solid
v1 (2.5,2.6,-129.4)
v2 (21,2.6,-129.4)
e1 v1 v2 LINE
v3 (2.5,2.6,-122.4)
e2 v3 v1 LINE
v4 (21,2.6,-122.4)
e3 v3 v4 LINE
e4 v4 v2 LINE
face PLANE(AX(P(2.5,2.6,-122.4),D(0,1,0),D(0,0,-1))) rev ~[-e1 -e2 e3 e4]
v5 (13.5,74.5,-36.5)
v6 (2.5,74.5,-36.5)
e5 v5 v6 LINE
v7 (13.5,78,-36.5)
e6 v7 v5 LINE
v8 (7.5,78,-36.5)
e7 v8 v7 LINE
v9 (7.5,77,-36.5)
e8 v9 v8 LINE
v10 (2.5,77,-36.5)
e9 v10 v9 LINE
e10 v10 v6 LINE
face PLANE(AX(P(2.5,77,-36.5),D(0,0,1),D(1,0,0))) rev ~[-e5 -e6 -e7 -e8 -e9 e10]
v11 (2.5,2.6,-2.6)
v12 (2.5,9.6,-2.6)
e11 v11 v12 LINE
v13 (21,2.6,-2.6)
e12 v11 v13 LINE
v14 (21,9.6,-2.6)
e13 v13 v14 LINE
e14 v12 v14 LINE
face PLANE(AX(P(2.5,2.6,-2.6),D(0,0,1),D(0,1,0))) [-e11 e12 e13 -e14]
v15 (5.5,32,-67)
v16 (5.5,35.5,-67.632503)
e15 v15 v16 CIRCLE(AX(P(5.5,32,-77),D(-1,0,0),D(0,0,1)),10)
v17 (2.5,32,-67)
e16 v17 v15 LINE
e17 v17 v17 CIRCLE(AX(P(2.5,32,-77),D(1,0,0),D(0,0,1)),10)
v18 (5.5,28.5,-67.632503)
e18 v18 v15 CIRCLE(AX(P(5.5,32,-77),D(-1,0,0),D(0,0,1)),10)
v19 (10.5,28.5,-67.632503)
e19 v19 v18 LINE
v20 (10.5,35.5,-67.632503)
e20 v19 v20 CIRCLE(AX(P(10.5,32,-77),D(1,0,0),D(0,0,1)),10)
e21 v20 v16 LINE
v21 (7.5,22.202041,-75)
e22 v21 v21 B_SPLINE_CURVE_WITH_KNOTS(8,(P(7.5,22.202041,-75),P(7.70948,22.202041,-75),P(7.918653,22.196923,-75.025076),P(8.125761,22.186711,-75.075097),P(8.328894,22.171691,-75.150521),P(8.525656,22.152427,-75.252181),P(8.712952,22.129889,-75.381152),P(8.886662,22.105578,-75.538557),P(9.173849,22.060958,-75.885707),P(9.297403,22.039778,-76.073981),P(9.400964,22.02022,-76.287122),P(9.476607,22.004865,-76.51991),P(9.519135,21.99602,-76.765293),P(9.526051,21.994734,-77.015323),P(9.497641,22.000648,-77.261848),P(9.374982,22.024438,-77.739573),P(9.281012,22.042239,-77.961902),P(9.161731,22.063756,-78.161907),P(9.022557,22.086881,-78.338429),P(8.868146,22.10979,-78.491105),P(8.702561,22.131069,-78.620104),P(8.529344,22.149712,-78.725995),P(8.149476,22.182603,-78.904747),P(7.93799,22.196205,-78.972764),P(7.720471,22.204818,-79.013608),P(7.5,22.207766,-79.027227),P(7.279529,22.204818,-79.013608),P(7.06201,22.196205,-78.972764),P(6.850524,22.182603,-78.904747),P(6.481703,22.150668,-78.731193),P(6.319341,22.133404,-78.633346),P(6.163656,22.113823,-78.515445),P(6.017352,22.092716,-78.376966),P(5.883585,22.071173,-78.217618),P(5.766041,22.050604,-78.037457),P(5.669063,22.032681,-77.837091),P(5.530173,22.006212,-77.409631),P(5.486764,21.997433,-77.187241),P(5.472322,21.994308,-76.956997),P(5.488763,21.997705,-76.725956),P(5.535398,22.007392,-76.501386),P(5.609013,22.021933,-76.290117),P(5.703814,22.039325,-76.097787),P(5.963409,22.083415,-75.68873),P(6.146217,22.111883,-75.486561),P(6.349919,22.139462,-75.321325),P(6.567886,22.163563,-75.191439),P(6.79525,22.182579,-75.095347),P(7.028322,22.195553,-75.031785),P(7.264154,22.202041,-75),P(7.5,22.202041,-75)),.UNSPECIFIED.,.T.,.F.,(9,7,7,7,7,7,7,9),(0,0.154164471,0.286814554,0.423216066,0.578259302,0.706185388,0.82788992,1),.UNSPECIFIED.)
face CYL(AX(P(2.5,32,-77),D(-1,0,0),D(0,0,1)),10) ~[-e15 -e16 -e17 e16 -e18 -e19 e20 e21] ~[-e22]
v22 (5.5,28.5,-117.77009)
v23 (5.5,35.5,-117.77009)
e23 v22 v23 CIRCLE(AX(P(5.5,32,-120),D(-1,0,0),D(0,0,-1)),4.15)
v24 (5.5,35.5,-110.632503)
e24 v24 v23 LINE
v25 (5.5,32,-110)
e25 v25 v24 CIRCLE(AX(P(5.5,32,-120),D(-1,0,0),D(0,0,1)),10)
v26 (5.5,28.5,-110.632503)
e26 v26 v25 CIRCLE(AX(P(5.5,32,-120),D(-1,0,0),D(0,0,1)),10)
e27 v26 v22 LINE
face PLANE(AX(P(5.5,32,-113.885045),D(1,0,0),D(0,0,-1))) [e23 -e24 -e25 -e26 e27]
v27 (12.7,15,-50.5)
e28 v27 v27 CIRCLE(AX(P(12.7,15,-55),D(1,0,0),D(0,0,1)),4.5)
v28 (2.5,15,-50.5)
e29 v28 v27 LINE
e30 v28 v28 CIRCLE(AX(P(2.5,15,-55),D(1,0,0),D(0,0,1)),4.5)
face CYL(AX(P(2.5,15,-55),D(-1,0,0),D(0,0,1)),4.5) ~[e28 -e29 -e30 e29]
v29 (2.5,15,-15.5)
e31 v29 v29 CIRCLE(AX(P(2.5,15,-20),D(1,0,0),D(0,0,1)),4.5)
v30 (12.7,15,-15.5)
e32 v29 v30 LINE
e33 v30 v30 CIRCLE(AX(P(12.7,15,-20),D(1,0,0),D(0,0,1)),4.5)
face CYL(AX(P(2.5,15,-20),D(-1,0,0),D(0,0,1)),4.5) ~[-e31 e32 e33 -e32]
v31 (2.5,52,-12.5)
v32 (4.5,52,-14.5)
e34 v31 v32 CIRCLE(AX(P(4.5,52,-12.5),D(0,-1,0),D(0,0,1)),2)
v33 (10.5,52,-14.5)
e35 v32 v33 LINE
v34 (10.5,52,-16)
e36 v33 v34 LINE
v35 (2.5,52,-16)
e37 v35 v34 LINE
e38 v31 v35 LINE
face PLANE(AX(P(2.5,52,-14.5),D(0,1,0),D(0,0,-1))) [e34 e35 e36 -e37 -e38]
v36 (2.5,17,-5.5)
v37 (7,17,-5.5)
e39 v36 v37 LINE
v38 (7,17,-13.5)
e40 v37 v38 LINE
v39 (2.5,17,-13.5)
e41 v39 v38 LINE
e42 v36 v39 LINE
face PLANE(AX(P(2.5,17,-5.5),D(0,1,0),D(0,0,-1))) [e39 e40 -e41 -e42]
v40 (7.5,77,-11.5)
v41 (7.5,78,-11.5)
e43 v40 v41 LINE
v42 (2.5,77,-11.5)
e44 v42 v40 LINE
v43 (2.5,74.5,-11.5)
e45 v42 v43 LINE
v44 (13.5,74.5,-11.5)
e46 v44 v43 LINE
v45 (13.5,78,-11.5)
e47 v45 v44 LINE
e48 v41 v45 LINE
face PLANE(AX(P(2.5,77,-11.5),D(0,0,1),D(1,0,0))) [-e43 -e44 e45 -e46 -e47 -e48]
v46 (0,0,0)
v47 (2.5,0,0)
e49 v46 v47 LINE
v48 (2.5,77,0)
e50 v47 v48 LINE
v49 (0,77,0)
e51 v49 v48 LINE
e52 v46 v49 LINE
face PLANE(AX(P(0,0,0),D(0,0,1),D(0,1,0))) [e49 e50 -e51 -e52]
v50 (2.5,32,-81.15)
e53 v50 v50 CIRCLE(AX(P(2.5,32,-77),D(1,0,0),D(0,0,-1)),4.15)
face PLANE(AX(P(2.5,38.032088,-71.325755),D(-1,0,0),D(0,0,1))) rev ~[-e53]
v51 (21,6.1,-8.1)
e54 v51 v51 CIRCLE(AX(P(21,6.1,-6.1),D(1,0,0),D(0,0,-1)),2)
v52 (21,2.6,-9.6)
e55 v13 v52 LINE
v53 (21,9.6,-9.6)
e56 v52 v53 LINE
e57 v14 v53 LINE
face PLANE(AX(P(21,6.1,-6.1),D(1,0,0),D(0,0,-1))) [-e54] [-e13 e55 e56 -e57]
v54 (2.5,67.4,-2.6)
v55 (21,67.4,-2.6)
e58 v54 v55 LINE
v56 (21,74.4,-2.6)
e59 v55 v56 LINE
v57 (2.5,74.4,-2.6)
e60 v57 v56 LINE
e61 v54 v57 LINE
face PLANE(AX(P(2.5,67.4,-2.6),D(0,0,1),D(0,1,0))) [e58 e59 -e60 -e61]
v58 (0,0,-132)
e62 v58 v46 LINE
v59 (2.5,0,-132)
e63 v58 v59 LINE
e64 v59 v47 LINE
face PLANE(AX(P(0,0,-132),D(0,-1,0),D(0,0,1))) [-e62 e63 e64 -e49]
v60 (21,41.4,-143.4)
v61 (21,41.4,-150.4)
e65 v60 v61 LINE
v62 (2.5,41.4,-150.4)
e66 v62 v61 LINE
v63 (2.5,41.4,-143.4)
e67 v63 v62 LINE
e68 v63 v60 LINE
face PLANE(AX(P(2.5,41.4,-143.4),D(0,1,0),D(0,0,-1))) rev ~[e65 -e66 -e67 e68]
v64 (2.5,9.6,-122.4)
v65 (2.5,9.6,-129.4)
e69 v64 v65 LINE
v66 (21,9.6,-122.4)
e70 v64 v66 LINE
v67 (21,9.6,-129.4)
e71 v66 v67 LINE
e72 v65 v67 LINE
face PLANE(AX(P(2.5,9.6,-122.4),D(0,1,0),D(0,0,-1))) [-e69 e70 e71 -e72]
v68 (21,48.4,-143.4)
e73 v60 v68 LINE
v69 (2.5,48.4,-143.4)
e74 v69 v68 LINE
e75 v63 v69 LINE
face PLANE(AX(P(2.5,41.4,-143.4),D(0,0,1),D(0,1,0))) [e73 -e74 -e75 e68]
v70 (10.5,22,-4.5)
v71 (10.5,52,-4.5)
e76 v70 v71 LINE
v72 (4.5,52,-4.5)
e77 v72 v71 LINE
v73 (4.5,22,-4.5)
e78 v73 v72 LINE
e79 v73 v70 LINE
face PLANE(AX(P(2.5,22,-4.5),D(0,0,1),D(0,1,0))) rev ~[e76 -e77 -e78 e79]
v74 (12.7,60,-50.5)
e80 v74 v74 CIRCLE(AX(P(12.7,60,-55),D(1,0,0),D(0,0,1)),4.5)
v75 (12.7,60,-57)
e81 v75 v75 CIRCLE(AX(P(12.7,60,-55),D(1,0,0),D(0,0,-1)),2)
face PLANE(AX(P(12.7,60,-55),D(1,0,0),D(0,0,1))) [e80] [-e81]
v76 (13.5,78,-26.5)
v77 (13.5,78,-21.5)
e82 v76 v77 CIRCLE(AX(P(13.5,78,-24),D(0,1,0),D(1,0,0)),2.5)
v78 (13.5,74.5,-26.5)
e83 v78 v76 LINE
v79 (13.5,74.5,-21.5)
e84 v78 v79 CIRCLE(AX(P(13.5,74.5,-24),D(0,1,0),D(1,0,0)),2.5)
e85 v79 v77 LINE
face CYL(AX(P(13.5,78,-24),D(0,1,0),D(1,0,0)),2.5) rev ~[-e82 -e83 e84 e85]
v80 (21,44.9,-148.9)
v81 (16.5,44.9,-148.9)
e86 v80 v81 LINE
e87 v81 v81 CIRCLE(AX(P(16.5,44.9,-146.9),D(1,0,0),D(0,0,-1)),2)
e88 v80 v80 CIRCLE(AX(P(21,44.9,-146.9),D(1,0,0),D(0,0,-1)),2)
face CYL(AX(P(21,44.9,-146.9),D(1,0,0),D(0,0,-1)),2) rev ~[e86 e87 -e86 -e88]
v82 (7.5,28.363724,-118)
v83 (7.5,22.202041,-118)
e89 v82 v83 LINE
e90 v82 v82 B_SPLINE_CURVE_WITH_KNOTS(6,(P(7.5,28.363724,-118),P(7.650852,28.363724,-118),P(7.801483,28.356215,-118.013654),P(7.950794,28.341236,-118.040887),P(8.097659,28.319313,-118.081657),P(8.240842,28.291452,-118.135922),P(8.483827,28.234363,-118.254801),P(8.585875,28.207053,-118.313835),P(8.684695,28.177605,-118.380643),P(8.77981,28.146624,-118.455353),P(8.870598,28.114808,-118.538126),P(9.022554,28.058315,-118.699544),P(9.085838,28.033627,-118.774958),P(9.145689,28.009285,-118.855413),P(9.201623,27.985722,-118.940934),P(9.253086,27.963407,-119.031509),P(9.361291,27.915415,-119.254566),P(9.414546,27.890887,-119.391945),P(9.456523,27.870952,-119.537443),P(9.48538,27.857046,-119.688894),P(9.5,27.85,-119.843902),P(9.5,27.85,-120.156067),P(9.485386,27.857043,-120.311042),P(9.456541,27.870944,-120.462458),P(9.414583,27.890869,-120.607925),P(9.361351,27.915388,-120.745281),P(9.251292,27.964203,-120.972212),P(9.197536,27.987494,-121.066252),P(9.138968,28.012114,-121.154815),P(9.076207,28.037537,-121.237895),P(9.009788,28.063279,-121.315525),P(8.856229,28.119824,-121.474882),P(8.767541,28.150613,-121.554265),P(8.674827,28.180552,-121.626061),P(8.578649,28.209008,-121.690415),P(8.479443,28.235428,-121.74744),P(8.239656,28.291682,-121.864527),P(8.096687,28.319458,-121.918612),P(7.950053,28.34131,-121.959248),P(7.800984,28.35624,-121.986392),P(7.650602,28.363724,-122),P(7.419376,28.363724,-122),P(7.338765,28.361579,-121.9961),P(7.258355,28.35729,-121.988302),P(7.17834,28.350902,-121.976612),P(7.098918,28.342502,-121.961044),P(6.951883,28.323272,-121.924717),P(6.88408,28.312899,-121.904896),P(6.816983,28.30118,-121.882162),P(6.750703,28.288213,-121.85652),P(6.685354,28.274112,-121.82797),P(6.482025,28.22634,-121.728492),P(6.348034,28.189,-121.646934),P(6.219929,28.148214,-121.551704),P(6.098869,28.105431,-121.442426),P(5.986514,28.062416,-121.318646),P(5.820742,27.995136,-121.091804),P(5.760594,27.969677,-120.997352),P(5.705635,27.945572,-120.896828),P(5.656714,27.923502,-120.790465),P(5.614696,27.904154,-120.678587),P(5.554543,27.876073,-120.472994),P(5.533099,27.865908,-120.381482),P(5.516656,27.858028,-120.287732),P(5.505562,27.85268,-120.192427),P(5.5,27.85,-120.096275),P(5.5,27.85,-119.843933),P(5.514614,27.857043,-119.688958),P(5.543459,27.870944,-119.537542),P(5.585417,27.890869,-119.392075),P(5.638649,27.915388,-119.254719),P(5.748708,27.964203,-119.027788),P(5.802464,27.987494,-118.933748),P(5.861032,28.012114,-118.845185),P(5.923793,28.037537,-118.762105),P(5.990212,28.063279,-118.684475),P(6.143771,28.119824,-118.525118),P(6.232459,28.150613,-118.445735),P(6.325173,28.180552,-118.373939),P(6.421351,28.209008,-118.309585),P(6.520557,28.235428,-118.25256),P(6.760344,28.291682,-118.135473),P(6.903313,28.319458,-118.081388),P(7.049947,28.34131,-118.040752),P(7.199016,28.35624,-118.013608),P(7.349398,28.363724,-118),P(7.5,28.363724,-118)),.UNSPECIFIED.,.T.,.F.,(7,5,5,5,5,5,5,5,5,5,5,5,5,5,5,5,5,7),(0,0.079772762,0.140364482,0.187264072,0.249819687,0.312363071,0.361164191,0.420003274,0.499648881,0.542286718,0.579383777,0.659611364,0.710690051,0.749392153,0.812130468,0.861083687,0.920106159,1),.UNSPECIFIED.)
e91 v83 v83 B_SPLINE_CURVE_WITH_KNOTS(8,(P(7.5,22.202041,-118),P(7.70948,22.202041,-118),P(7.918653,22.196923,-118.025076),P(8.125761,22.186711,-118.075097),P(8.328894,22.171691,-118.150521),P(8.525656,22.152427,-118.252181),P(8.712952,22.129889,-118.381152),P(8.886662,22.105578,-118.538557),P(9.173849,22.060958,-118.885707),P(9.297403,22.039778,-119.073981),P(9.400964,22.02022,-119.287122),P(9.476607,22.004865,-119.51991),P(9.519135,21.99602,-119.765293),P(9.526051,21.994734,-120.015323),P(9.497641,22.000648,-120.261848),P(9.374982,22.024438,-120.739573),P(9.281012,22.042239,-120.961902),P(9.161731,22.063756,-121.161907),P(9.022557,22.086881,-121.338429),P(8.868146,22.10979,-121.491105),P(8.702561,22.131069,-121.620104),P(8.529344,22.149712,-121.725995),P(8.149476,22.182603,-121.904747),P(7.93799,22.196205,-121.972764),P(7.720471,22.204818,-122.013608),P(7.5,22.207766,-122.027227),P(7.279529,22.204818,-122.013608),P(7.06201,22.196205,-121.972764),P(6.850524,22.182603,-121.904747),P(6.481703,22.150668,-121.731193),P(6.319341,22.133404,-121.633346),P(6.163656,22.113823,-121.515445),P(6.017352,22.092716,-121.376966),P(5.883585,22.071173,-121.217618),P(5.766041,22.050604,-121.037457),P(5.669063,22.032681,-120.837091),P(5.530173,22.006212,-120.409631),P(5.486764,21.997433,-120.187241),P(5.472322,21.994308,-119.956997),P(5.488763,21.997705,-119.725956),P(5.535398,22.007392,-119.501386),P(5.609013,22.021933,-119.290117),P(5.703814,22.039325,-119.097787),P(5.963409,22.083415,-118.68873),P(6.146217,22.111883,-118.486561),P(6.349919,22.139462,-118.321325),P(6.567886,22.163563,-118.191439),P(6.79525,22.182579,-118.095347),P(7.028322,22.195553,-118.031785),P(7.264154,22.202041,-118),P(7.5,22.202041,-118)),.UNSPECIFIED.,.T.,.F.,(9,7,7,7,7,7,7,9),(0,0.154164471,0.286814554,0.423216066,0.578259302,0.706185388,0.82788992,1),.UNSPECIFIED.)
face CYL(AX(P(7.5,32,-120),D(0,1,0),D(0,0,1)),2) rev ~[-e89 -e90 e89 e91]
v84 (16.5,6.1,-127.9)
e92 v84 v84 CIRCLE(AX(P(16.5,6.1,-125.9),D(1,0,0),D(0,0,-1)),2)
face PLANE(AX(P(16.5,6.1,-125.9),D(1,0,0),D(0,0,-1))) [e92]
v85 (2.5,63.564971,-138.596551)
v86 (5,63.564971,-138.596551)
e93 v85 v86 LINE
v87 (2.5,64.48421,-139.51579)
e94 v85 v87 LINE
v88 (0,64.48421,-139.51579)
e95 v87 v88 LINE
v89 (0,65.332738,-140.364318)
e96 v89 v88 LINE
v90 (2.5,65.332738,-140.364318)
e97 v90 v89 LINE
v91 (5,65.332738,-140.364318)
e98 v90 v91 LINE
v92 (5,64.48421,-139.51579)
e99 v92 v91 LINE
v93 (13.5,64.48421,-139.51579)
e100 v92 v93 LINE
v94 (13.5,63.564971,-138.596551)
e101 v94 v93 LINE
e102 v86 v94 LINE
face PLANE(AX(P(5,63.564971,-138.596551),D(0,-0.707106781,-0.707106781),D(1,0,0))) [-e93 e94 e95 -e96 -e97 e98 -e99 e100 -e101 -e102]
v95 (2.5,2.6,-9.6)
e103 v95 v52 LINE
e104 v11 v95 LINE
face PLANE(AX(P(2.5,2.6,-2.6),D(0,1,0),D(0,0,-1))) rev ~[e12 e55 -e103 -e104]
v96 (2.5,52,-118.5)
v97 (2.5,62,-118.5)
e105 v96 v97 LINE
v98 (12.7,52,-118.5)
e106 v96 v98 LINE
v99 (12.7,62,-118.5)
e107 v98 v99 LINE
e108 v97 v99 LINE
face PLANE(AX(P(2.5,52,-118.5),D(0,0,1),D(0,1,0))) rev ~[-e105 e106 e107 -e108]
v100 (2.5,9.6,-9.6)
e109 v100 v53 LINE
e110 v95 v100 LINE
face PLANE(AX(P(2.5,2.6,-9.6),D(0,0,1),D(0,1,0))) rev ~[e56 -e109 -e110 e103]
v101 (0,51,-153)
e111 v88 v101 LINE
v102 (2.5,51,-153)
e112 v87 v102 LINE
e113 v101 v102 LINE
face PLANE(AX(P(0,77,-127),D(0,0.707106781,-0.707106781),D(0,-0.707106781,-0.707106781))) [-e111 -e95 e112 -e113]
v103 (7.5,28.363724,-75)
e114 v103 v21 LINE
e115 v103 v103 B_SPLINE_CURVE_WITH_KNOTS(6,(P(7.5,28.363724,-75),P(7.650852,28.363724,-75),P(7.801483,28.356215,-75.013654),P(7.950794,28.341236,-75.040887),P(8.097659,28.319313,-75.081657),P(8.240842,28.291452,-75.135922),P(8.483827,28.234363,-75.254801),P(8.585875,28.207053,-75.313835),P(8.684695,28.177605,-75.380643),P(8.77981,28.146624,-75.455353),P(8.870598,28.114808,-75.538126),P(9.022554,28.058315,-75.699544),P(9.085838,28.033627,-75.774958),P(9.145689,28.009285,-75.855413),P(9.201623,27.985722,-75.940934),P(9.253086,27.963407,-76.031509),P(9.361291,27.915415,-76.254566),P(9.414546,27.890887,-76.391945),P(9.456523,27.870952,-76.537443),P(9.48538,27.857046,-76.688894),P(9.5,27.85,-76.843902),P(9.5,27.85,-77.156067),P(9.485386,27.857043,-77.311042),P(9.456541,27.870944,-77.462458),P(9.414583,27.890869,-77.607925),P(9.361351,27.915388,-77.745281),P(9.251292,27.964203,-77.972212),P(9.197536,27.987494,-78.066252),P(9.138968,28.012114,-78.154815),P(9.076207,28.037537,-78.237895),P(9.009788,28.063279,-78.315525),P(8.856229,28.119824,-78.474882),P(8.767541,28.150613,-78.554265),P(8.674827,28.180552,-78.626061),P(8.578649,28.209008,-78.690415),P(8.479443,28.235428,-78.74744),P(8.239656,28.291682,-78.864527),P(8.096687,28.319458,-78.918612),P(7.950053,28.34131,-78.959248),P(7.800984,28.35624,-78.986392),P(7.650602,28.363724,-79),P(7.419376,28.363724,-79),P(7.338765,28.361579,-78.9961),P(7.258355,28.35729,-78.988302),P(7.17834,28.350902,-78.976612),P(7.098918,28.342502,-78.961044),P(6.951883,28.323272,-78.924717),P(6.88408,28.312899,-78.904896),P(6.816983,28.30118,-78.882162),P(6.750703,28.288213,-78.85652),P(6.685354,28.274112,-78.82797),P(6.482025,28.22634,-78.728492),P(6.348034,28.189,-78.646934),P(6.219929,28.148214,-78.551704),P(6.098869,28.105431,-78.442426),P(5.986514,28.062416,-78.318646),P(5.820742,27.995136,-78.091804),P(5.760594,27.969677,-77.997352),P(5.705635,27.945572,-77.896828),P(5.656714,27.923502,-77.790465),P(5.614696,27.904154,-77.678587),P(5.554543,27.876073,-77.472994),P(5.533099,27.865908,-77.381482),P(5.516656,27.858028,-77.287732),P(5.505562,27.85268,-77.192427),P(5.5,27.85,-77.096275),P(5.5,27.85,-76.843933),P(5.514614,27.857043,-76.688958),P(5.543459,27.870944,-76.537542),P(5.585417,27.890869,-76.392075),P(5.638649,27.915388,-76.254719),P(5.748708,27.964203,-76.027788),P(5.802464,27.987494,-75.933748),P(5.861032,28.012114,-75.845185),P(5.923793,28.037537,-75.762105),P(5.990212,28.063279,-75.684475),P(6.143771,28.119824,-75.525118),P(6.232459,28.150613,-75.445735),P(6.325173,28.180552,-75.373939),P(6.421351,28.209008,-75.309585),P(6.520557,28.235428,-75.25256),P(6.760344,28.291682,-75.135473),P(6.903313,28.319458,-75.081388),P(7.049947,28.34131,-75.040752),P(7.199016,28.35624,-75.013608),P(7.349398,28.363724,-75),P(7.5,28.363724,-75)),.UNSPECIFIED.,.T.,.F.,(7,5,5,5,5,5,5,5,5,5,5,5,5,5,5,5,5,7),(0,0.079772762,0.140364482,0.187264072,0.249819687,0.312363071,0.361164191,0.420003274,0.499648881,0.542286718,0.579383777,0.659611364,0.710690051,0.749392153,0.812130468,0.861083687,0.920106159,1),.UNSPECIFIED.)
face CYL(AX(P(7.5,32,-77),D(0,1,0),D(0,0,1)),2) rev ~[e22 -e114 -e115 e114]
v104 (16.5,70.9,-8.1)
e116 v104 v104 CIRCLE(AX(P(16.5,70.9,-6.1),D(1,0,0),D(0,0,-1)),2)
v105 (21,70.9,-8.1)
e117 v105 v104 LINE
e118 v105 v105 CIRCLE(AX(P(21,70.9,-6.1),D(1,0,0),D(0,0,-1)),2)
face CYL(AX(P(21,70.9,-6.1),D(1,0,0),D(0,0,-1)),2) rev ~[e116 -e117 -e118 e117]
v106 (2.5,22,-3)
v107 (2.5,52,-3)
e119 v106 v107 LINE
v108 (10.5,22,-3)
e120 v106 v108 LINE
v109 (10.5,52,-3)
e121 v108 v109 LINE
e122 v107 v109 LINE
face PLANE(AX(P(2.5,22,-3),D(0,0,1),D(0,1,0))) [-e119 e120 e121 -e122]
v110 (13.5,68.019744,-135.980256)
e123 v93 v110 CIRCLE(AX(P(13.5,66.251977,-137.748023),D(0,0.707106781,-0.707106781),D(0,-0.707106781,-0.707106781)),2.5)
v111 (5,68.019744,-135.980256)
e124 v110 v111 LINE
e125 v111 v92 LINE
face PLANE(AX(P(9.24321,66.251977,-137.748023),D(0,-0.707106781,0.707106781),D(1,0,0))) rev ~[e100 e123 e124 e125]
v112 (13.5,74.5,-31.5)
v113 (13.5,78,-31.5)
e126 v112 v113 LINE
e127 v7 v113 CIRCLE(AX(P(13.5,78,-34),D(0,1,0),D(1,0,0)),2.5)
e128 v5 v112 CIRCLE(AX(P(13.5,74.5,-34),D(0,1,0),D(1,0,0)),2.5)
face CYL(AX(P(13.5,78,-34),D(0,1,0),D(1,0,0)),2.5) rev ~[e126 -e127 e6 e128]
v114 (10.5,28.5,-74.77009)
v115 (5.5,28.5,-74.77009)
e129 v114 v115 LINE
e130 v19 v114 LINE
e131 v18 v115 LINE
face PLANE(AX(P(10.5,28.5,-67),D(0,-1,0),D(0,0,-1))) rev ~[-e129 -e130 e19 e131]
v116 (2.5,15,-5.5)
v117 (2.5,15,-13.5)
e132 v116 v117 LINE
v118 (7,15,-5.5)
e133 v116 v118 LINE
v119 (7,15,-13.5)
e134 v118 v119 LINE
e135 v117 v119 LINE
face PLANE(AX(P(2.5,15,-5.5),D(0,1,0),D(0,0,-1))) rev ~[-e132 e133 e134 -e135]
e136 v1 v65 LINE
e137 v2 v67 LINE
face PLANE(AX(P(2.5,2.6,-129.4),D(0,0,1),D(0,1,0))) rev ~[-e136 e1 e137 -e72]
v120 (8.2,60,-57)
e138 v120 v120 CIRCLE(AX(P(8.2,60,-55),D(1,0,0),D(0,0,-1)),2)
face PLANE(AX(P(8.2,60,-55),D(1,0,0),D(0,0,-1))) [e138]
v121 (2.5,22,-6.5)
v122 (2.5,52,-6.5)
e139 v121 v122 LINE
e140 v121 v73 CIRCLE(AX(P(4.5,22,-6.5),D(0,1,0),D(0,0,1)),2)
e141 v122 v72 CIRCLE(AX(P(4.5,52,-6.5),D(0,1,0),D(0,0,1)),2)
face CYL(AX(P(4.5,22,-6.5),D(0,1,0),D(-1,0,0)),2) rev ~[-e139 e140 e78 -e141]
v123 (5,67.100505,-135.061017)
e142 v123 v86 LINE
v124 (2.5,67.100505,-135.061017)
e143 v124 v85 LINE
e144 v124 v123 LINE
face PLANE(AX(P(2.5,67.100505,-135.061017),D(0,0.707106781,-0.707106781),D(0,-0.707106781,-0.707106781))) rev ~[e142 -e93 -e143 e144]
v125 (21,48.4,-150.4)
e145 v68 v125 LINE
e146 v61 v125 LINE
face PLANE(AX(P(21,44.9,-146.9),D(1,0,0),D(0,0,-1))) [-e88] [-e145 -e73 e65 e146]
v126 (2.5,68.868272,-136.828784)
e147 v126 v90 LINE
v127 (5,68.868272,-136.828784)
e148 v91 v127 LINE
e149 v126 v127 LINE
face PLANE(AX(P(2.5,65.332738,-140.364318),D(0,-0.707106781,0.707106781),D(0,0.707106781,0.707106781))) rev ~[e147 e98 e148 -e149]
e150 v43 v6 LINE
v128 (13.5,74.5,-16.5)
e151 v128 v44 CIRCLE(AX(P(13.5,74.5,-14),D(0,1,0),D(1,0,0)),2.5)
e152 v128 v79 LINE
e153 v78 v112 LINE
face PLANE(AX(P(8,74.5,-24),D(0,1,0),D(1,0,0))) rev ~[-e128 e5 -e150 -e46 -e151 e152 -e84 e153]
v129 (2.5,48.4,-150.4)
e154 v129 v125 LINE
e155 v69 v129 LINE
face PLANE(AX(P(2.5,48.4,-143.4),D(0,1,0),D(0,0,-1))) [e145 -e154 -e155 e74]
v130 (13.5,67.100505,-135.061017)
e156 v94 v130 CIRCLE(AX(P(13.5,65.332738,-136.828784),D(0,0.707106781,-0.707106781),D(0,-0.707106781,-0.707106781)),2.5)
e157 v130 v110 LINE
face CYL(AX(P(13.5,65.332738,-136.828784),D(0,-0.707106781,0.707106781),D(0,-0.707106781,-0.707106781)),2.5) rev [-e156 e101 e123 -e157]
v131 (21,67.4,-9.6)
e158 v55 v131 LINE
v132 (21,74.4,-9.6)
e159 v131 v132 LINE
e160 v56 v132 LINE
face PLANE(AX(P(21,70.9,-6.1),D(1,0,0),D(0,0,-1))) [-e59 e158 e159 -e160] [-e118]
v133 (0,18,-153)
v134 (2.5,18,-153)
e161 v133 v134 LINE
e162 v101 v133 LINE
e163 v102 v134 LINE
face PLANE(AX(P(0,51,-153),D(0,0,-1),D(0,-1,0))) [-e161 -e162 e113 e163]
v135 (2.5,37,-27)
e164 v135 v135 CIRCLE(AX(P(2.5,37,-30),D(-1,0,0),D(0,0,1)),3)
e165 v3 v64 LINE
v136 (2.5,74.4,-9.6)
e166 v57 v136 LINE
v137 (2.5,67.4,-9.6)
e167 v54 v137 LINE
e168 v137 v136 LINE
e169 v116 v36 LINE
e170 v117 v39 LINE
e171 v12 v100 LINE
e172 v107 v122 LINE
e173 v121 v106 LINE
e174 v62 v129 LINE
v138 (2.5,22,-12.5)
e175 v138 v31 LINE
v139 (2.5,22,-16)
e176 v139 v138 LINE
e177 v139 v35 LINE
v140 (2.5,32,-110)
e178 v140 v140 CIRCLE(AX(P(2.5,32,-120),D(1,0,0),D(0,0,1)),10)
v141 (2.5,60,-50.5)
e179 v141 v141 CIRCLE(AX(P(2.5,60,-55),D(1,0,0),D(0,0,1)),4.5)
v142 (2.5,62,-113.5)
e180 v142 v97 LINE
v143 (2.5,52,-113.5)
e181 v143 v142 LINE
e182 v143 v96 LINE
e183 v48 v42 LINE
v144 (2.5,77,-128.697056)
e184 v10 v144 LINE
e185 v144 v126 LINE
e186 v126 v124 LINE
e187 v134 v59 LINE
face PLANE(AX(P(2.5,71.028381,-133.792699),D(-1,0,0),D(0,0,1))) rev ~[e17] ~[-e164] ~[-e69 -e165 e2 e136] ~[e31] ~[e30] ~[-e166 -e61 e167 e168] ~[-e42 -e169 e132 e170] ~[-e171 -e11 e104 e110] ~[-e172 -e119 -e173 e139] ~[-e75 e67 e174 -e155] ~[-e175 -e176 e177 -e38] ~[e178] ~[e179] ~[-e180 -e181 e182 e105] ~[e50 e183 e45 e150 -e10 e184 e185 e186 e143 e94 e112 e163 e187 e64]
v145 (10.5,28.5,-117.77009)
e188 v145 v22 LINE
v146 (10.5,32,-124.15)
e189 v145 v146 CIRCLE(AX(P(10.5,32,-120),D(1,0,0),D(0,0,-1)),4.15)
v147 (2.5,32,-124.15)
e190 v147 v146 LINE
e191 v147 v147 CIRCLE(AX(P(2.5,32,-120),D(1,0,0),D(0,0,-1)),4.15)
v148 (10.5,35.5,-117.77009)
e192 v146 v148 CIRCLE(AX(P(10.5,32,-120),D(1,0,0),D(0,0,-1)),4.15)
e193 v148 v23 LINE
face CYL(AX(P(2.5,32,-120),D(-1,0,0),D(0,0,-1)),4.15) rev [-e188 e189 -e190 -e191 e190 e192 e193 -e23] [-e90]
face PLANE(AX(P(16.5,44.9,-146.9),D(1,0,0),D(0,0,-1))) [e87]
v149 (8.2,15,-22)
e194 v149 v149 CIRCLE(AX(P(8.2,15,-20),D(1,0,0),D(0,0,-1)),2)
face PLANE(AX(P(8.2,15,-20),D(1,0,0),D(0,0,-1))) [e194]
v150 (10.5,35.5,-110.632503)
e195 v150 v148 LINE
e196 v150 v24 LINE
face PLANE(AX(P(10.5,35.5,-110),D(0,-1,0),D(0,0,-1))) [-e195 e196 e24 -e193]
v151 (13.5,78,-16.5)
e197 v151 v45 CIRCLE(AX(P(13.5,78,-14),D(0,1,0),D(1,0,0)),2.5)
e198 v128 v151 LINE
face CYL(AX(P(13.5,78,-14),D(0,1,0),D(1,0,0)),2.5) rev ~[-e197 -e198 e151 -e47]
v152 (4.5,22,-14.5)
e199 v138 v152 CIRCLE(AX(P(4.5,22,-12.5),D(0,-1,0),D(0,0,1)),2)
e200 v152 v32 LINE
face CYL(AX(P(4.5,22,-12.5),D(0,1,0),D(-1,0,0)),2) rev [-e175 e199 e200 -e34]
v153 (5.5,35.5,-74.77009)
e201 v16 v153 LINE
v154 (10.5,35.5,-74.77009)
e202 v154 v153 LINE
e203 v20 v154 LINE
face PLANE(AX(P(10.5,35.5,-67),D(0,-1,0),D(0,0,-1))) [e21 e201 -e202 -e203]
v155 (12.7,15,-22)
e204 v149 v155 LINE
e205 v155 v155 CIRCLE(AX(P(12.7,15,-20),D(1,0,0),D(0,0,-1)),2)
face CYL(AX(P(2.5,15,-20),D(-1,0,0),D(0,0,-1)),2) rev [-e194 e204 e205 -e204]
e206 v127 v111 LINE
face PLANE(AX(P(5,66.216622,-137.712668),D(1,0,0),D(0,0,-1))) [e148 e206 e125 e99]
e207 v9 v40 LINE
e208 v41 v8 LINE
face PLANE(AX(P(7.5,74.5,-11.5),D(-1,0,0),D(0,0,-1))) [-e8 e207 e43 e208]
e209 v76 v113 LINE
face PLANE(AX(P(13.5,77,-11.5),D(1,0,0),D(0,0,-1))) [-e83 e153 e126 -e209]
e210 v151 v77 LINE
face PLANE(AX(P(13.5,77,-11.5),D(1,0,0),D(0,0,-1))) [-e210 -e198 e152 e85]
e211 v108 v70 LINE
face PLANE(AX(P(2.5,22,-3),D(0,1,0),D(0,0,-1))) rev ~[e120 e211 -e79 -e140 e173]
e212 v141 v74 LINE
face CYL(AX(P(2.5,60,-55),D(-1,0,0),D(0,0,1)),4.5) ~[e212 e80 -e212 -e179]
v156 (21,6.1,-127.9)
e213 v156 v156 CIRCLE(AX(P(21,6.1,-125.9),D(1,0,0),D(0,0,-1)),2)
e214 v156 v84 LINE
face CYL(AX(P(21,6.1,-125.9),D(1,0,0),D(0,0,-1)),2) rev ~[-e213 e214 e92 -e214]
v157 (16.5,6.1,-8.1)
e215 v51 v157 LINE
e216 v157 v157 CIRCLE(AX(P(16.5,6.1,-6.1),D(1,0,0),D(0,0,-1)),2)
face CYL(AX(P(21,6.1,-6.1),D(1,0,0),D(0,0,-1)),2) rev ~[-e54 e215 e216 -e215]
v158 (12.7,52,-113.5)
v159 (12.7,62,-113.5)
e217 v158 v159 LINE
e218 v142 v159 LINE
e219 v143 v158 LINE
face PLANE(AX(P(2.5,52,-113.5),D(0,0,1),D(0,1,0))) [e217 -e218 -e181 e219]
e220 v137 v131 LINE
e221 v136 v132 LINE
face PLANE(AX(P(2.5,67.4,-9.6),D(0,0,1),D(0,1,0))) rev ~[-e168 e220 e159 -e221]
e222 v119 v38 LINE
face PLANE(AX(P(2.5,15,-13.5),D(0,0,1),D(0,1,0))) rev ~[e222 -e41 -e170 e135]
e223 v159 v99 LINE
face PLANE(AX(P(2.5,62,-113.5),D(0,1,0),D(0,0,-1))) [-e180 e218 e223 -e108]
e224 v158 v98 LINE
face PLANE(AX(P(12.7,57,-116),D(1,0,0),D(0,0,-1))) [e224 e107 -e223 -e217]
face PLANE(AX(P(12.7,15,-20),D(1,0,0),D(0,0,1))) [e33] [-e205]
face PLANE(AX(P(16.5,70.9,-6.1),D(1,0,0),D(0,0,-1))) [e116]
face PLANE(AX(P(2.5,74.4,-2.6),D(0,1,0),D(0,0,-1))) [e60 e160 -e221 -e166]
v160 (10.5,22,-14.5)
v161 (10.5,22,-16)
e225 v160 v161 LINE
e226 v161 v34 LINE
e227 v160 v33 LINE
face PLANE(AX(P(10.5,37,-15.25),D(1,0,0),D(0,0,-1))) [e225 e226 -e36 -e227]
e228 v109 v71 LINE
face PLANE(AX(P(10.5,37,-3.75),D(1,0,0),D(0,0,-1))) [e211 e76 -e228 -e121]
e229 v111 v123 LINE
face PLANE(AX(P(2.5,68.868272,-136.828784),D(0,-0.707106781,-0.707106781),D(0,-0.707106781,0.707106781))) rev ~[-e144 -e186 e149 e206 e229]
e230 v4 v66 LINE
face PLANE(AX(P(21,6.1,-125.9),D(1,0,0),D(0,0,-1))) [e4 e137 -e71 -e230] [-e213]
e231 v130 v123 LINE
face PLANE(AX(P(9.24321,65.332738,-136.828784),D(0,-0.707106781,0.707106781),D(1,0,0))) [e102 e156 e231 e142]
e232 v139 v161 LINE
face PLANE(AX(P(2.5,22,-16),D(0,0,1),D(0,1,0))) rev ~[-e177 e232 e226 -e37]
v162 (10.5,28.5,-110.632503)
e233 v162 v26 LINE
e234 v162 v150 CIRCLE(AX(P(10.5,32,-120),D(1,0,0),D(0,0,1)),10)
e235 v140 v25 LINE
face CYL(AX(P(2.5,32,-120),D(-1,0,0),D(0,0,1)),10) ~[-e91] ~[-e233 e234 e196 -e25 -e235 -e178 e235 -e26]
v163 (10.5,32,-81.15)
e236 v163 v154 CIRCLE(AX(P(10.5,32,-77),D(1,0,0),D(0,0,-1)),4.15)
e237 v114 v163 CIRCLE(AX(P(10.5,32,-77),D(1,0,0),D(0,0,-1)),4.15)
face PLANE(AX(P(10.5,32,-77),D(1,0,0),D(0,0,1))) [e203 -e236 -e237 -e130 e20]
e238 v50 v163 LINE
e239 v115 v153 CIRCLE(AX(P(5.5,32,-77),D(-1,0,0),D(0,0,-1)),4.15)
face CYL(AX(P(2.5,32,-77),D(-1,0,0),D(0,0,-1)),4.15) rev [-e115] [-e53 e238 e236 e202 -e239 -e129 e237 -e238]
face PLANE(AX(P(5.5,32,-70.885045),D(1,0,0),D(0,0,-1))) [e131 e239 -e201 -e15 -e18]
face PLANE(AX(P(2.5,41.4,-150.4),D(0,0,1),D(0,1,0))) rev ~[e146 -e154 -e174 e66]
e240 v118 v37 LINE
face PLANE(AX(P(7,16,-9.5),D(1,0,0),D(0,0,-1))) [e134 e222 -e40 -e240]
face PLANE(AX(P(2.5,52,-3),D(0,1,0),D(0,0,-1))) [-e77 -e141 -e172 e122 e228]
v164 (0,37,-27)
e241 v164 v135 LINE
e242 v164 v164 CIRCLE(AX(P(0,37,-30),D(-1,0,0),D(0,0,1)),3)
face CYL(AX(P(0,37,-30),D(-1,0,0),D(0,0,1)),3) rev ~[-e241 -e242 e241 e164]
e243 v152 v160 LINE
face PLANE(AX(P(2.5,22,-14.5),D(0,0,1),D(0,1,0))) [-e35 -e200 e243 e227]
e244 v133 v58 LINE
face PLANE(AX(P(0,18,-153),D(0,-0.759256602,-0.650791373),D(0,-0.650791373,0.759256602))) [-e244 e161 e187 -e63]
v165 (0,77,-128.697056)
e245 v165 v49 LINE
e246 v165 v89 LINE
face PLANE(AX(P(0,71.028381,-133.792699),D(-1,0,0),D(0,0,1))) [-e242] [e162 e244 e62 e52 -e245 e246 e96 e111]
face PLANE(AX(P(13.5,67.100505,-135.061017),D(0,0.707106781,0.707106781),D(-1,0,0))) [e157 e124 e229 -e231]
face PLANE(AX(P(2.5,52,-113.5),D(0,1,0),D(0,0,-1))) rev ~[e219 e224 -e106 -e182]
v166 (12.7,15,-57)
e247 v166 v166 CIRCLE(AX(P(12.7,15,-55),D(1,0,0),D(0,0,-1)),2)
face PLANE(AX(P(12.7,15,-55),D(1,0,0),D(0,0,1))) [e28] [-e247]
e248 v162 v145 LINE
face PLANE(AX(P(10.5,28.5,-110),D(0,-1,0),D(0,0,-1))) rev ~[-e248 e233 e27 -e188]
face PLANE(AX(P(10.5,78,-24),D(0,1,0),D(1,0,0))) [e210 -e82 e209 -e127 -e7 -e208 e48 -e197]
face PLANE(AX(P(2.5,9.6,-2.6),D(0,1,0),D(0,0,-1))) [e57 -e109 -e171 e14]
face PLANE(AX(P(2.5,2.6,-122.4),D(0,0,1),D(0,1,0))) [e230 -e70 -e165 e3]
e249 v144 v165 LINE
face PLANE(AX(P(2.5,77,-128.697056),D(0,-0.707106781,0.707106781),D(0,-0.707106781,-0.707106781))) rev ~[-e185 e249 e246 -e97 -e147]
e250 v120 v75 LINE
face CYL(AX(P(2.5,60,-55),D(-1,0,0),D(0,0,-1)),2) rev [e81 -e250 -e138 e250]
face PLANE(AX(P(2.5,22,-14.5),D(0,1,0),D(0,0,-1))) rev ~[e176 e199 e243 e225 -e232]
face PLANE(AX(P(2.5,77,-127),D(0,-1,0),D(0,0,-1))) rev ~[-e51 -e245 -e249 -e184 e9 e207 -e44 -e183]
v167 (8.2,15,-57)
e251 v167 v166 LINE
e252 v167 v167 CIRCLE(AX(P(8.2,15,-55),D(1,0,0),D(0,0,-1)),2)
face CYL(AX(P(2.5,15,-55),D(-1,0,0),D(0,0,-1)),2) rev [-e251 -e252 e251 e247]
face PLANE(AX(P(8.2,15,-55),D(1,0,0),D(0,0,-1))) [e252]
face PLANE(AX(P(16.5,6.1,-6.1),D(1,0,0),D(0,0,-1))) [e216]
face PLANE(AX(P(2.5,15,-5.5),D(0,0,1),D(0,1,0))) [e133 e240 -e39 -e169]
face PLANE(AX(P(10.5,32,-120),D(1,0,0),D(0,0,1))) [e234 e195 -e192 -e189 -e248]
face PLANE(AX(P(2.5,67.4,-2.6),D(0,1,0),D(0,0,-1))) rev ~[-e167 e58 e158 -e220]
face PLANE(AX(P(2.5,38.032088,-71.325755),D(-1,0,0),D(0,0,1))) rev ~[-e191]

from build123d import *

# Parameters (mm, degrees)
BASE_DEPTH               = 2.5
SKETCH2_R                = 4.5
SKETCH2_R_2              = 2
SKETCH2_W                = 5
SKETCH2_H                = 10
PCB_MOUNT_DEPTH          = 10.2
BOSS_EXTRUDE14_REACH     = 178.254
BOSS_EXTRUDE14_START     = -4.5
SKETCH24_R               = 2
SKETCH3_R                = 10
SKETCH3_R_2              = 4.15
BOSS_EXTRUDE3_DEPTH      = 8
SKETCH4_W                = 7.770089688
SKETCH4_H                = 7
CUT_EXTRUDE1_DEPTH       = 5
SKETCH5_R                = 2
CUT_EXTRUDE2_DEPTH       = 160.985280573
SKETCH13_W               = 11
SKETCH13_H               = 25
BOSS_EXTRUDE8_DEPTH      = 2.5
BOSS_EXTRUDE9_DEPTH      = 1
BOSS_EXTRUDE9_DEPTH_BACK = 2.5
SKETCH15_W               = 6
SKETCH15_H               = 25
CUT_EXTRUDE4_REACH       = 174.265
SKETCH16_R               = 2.5
BOSS_EXTRUDE5_START      = -2.5
BOSS_EXTRUDE5_DEPTH      = 2.5
BOSS_EXTRUDE6_DEPTH      = 2.5
BOSS_EXTRUDE7_DEPTH      = 1.3
SKETCH19_W               = 1.5
SKETCH19_H               = 30
BOSS_EXTRUDE11_DEPTH     = 8
FILLET1_R                = 2
SKETCH20_W               = 8
SKETCH20_H               = 2
BOSS_EXTRUDE12_DEPTH     = 4.5
SKETCH21_W               = 7
SKETCH21_H               = 7
BOSS_EXTRUDE13_DEPTH     = 18.5
SKETCH22_R               = 2
CUT_EXTRUDE5_DEPTH       = 4.5
CUT_EXTRUDE6_REACH       = 175.014
SKETCH25_R               = 3


with BuildPart() as part:
    # Sketch1 → Base (new body)
    with BuildSketch(Plane(origin=(0, 0, 0), x_dir=(0, 0, -1), z_dir=(1, 0, 0))):
        Polygon((0, 0), (0, 77), (127, 77), (153, 51), (153, 18), (132, 0), align=None)
    extrude(amount=BASE_DEPTH)

    # Sketch2 → PCB_Mount (add)
    # profile 1 of 4: a face of its own
    with BuildSketch(Plane(origin=(2.5, 0, 0), x_dir=(0, 0, -1), z_dir=(1, 0, 0))):
        with Locations(Location((20, 15, 0), (0, 0, 180))):
            Circle(SKETCH2_R)
        with Locations((20, 15)):
            Circle(SKETCH2_R_2, mode=Mode.SUBTRACT)
    # profile 2 of 4: a face of its own
    with BuildSketch(Plane(origin=(2.5, 0, 0), x_dir=(0, 0, -1), z_dir=(1, 0, 0))):
        with Locations(Location((55, 15, 0), (0, 0, 180))):
            Circle(SKETCH2_R)
        with Locations((55, 15)):
            Circle(SKETCH2_R_2, mode=Mode.SUBTRACT)
    # profile 3 of 4: a face of its own
    with BuildSketch(Plane(origin=(2.5, 0, 0), x_dir=(0, 0, -1), z_dir=(1, 0, 0))):
        with Locations(Location((55, 60, 0), (0, 0, 180))):
            Circle(SKETCH2_R)
        with Locations((55, 60)):
            Circle(SKETCH2_R_2, mode=Mode.SUBTRACT)
    # profile 4 of 4: a face of its own
    with BuildSketch(Plane(origin=(2.5, 0, 0), x_dir=(0, 0, -1), z_dir=(1, 0, 0))):
        with Locations((116, 57)):
            Rectangle(SKETCH2_W, SKETCH2_H)
    extrude(amount=PCB_MOUNT_DEPTH)

    # Sketch24 → Boss-Extrude14 (add, up to next)
    with BuildSketch(Plane(origin=(12.7, 0, 0), x_dir=(0, 0, -1), z_dir=(1, 0, 0)).offset(BOSS_EXTRUDE14_START), mode=Mode.PRIVATE) as boss_extrude14_sk1:
        with Locations((55, 60)):
            Circle(SKETCH24_R)
    boss_extrude14_tool1 = extrude(boss_extrude14_sk1.sketch, amount=-BOSS_EXTRUDE14_REACH, mode=Mode.PRIVATE) - part.part
    # Sketch24 → Boss-Extrude14 (add, up to next)
    with BuildSketch(Plane(origin=(12.7, 0, 0), x_dir=(0, 0, -1), z_dir=(1, 0, 0)).offset(BOSS_EXTRUDE14_START), mode=Mode.PRIVATE) as boss_extrude14_sk2:
        with Locations((55, 15)):
            Circle(SKETCH24_R)
    boss_extrude14_tool2 = extrude(boss_extrude14_sk2.sketch, amount=-BOSS_EXTRUDE14_REACH, mode=Mode.PRIVATE) - part.part
    # Sketch24 → Boss-Extrude14 (add, up to next)
    with BuildSketch(Plane(origin=(12.7, 0, 0), x_dir=(0, 0, -1), z_dir=(1, 0, 0)).offset(BOSS_EXTRUDE14_START), mode=Mode.PRIVATE) as boss_extrude14_sk3:
        with Locations((20, 15)):
            Circle(SKETCH24_R)
    boss_extrude14_tool3 = extrude(boss_extrude14_sk3.sketch, amount=-BOSS_EXTRUDE14_REACH, mode=Mode.PRIVATE) - part.part
    add(boss_extrude14_tool1.solids().sort_by_distance((8.2, 60, -55))[0])
    add(boss_extrude14_tool2.solids().sort_by_distance((8.2, 15, -55))[0])
    add(boss_extrude14_tool3.solids().sort_by_distance((8.2, 15, -20))[0])

    # Sketch3 → Boss-Extrude3 (add)
    # profile 1 of 2: a face of its own
    with BuildSketch(Plane(origin=(2.5, 0, 0), x_dir=(0, 0, -1), z_dir=(1, 0, 0))):
        with Locations(Location((77, 32, 0), (0, 0, 180))):
            Circle(SKETCH3_R)
        with Locations((77, 32)):
            Circle(SKETCH3_R_2, mode=Mode.SUBTRACT)
    # profile 2 of 2: a face of its own
    with BuildSketch(Plane(origin=(2.5, 0, 0), x_dir=(0, 0, -1), z_dir=(1, 0, 0))):
        with Locations(Location((120, 32, 0), (0, 0, 180))):
            Circle(SKETCH3_R)
        with Locations((120, 32)):
            Circle(SKETCH3_R_2, mode=Mode.SUBTRACT)
    extrude(amount=BOSS_EXTRUDE3_DEPTH)

    # Sketch4 → Cut-Extrude1 (cut)
    with BuildSketch(Plane(origin=(10.5, 0, 0), x_dir=(0, 0, -1), z_dir=(1, 0, 0))):
        with Locations((70.885044844, 32)):
            Rectangle(SKETCH4_W, SKETCH4_H)
        with Locations((113.885044844, 32)):
            Rectangle(SKETCH4_W, SKETCH4_H)
    extrude(amount=-CUT_EXTRUDE1_DEPTH, mode=Mode.SUBTRACT)

    # Sketch5 → Cut-Extrude2 (cut, through all)
    with BuildSketch(Plane(origin=(0, 32, 0), x_dir=(1, 0, 0), z_dir=(0, 1, 0))):
        with Locations(Location((7.5, 77, 0), (0, 0, 270))):
            Circle(SKETCH5_R)
        with Locations(Location((7.5, 120, 0), (0, 0, 270))):
            Circle(SKETCH5_R)
    extrude(amount=-CUT_EXTRUDE2_DEPTH, mode=Mode.SUBTRACT)

    # Sketch13 → Boss-Extrude8 (add)
    with BuildSketch(Plane(origin=(0, 77, 0), x_dir=(1, 0, 0), z_dir=(0, 1, 0))):
        with Locations((8, 24)):
            Rectangle(SKETCH13_W, SKETCH13_H)
    extrude(amount=-BOSS_EXTRUDE8_DEPTH)

    # Sketch15 → Boss-Extrude9 (add, two sides: drawn at the far end of the back side and taken through both)
    with BuildSketch(Plane(origin=(0, 77, 0), x_dir=(1, 0, 0), z_dir=(0, 1, 0)).offset(-BOSS_EXTRUDE9_DEPTH_BACK)):
        with Locations((10.5, 24)):
            Rectangle(SKETCH15_W, SKETCH15_H)
    extrude(amount=BOSS_EXTRUDE9_DEPTH + BOSS_EXTRUDE9_DEPTH_BACK)

    # Sketch16 → Cut-Extrude4 (cut, up to next)
    with BuildSketch(Plane(origin=(0, 78, 0), x_dir=(1, 0, 0), z_dir=(0, 1, 0)), mode=Mode.PRIVATE) as cut_extrude4_sk1:
        with Locations((13.5, 24)):
            Circle(SKETCH16_R)
    cut_extrude4_tool1 = extrude(cut_extrude4_sk1.sketch, amount=-CUT_EXTRUDE4_REACH, mode=Mode.PRIVATE) & part.part
    # Sketch16 → Cut-Extrude4 (cut, up to next)
    with BuildSketch(Plane(origin=(0, 78, 0), x_dir=(1, 0, 0), z_dir=(0, 1, 0)), mode=Mode.PRIVATE) as cut_extrude4_sk2:
        with Locations((13.5, 34)):
            Circle(SKETCH16_R)
    cut_extrude4_tool2 = extrude(cut_extrude4_sk2.sketch, amount=-CUT_EXTRUDE4_REACH, mode=Mode.PRIVATE) & part.part
    # Sketch16 → Cut-Extrude4 (cut, up to next)
    with BuildSketch(Plane(origin=(0, 78, 0), x_dir=(1, 0, 0), z_dir=(0, 1, 0)), mode=Mode.PRIVATE) as cut_extrude4_sk3:
        with Locations((13.5, 14)):
            Circle(SKETCH16_R)
    cut_extrude4_tool3 = extrude(cut_extrude4_sk3.sketch, amount=-CUT_EXTRUDE4_REACH, mode=Mode.PRIVATE) & part.part
    add(cut_extrude4_tool1.solids().sort_by_distance((13.5, 78, -24))[0], mode=Mode.SUBTRACT)
    add(cut_extrude4_tool2.solids().sort_by_distance((13.5, 78, -34))[0], mode=Mode.SUBTRACT)
    add(cut_extrude4_tool3.solids().sort_by_distance((13.5, 78, -14))[0], mode=Mode.SUBTRACT)

    # Sketch9 → Boss-Extrude5 (add)
    with BuildSketch(Plane.ZY.offset(BOSS_EXTRUDE5_START)):
        Polygon((-127, 77), (-128.697056275, 77), (-140.364318164, 65.33273811), (-139.515790027, 64.484209973), align=None)
    extrude(amount=BOSS_EXTRUDE5_DEPTH)

    # Sketch10 → Boss-Extrude6 (add)
    with BuildSketch(Plane(origin=(2.5, 0, 0), x_dir=(0, 0, -1), z_dir=(1, 0, 0))):
        Polygon((140.364318164, 65.33273811), (136.828784258, 68.868272016), (135.061017306, 67.100505063), (138.596551211, 63.564971157), align=None)
    extrude(amount=BOSS_EXTRUDE6_DEPTH)

    # Sketch12 → Boss-Extrude7 (add)
    with BuildSketch(Plane(origin=(0, 101.080761184, -101.080761184), x_dir=(1, 0, 0), z_dir=(0, -0.7071067811865475, 0.7071067811865477))):
        with BuildLine():
            Line((5, -48.055339059), (5, -53.055339059))
            Line((5, -53.055339059), (13.5, -53.055339059))
            ThreePointArc((13.5, -53.055339059), (11, -50.555339059), (13.5, -48.055339059))
            Line((13.5, -48.055339059), (5, -48.055339059))
        make_face()
    extrude(amount=-BOSS_EXTRUDE7_DEPTH)

    # Sketch19 → Boss-Extrude11 (add)
    with BuildSketch(Plane(origin=(2.5, 0, 0), x_dir=(0, 0, -1), z_dir=(1, 0, 0))):
        with Locations((3.75, 37)):
            Rectangle(SKETCH19_W, SKETCH19_H)
        with Locations((15.25, 37)):
            Rectangle(SKETCH19_W, SKETCH19_H)
    extrude(amount=BOSS_EXTRUDE11_DEPTH)

    # Fillet1
    fillet1_edges = [part.edges().sort_by_distance(p)[0] for p in [
        (2.5, 37, -4.5),
        (2.5, 37, -14.5),
    ]]
    fillet(fillet1_edges, radius=FILLET1_R)

    # Sketch20 → Boss-Extrude12 (add)
    with BuildSketch(Plane(origin=(2.5, 0, 0), x_dir=(0, 0, -1), z_dir=(1, 0, 0))):
        with Locations((9.5, 16)):
            Rectangle(SKETCH20_W, SKETCH20_H)
    extrude(amount=BOSS_EXTRUDE12_DEPTH)

    # Sketch21 → Boss-Extrude13 (add)
    with BuildSketch(Plane(origin=(2.5, 0, 0), x_dir=(0, 0, -1), z_dir=(1, 0, 0))):
        with Locations((6.1, 70.9)):
            Rectangle(SKETCH21_W, SKETCH21_H)
        with Locations((6.1, 6.1)):
            Rectangle(SKETCH21_W, SKETCH21_H)
        with Locations((125.9, 6.1)):
            Rectangle(SKETCH21_W, SKETCH21_H)
        with Locations((146.9, 44.9)):
            Rectangle(SKETCH21_W, SKETCH21_H)
    extrude(amount=BOSS_EXTRUDE13_DEPTH)

    # Sketch22 → Cut-Extrude5 (cut)
    with BuildSketch(Plane(origin=(21, 0, 0), x_dir=(0, 0, -1), z_dir=(1, 0, 0))):
        with Locations((6.1, 6.1)):
            Circle(SKETCH22_R)
        with Locations((6.1, 70.9)):
            Circle(SKETCH22_R)
        with Locations((146.9, 44.9)):
            Circle(SKETCH22_R)
        with Locations((125.9, 6.1)):
            Circle(SKETCH22_R)
    extrude(amount=-CUT_EXTRUDE5_DEPTH, mode=Mode.SUBTRACT)

    # Sketch25 → Cut-Extrude6 (cut, up to next)
    with BuildSketch(Plane.ZY, mode=Mode.PRIVATE) as cut_extrude6_sk1:
        with Locations((-30, 37)):
            Circle(SKETCH25_R)
    cut_extrude6_tool1 = extrude(cut_extrude6_sk1.sketch, amount=-CUT_EXTRUDE6_REACH, mode=Mode.PRIVATE) & part.part
    add(cut_extrude6_tool1.solids().sort_by_distance((0, 37, -30))[0], mode=Mode.SUBTRACT)


solid = part.part
